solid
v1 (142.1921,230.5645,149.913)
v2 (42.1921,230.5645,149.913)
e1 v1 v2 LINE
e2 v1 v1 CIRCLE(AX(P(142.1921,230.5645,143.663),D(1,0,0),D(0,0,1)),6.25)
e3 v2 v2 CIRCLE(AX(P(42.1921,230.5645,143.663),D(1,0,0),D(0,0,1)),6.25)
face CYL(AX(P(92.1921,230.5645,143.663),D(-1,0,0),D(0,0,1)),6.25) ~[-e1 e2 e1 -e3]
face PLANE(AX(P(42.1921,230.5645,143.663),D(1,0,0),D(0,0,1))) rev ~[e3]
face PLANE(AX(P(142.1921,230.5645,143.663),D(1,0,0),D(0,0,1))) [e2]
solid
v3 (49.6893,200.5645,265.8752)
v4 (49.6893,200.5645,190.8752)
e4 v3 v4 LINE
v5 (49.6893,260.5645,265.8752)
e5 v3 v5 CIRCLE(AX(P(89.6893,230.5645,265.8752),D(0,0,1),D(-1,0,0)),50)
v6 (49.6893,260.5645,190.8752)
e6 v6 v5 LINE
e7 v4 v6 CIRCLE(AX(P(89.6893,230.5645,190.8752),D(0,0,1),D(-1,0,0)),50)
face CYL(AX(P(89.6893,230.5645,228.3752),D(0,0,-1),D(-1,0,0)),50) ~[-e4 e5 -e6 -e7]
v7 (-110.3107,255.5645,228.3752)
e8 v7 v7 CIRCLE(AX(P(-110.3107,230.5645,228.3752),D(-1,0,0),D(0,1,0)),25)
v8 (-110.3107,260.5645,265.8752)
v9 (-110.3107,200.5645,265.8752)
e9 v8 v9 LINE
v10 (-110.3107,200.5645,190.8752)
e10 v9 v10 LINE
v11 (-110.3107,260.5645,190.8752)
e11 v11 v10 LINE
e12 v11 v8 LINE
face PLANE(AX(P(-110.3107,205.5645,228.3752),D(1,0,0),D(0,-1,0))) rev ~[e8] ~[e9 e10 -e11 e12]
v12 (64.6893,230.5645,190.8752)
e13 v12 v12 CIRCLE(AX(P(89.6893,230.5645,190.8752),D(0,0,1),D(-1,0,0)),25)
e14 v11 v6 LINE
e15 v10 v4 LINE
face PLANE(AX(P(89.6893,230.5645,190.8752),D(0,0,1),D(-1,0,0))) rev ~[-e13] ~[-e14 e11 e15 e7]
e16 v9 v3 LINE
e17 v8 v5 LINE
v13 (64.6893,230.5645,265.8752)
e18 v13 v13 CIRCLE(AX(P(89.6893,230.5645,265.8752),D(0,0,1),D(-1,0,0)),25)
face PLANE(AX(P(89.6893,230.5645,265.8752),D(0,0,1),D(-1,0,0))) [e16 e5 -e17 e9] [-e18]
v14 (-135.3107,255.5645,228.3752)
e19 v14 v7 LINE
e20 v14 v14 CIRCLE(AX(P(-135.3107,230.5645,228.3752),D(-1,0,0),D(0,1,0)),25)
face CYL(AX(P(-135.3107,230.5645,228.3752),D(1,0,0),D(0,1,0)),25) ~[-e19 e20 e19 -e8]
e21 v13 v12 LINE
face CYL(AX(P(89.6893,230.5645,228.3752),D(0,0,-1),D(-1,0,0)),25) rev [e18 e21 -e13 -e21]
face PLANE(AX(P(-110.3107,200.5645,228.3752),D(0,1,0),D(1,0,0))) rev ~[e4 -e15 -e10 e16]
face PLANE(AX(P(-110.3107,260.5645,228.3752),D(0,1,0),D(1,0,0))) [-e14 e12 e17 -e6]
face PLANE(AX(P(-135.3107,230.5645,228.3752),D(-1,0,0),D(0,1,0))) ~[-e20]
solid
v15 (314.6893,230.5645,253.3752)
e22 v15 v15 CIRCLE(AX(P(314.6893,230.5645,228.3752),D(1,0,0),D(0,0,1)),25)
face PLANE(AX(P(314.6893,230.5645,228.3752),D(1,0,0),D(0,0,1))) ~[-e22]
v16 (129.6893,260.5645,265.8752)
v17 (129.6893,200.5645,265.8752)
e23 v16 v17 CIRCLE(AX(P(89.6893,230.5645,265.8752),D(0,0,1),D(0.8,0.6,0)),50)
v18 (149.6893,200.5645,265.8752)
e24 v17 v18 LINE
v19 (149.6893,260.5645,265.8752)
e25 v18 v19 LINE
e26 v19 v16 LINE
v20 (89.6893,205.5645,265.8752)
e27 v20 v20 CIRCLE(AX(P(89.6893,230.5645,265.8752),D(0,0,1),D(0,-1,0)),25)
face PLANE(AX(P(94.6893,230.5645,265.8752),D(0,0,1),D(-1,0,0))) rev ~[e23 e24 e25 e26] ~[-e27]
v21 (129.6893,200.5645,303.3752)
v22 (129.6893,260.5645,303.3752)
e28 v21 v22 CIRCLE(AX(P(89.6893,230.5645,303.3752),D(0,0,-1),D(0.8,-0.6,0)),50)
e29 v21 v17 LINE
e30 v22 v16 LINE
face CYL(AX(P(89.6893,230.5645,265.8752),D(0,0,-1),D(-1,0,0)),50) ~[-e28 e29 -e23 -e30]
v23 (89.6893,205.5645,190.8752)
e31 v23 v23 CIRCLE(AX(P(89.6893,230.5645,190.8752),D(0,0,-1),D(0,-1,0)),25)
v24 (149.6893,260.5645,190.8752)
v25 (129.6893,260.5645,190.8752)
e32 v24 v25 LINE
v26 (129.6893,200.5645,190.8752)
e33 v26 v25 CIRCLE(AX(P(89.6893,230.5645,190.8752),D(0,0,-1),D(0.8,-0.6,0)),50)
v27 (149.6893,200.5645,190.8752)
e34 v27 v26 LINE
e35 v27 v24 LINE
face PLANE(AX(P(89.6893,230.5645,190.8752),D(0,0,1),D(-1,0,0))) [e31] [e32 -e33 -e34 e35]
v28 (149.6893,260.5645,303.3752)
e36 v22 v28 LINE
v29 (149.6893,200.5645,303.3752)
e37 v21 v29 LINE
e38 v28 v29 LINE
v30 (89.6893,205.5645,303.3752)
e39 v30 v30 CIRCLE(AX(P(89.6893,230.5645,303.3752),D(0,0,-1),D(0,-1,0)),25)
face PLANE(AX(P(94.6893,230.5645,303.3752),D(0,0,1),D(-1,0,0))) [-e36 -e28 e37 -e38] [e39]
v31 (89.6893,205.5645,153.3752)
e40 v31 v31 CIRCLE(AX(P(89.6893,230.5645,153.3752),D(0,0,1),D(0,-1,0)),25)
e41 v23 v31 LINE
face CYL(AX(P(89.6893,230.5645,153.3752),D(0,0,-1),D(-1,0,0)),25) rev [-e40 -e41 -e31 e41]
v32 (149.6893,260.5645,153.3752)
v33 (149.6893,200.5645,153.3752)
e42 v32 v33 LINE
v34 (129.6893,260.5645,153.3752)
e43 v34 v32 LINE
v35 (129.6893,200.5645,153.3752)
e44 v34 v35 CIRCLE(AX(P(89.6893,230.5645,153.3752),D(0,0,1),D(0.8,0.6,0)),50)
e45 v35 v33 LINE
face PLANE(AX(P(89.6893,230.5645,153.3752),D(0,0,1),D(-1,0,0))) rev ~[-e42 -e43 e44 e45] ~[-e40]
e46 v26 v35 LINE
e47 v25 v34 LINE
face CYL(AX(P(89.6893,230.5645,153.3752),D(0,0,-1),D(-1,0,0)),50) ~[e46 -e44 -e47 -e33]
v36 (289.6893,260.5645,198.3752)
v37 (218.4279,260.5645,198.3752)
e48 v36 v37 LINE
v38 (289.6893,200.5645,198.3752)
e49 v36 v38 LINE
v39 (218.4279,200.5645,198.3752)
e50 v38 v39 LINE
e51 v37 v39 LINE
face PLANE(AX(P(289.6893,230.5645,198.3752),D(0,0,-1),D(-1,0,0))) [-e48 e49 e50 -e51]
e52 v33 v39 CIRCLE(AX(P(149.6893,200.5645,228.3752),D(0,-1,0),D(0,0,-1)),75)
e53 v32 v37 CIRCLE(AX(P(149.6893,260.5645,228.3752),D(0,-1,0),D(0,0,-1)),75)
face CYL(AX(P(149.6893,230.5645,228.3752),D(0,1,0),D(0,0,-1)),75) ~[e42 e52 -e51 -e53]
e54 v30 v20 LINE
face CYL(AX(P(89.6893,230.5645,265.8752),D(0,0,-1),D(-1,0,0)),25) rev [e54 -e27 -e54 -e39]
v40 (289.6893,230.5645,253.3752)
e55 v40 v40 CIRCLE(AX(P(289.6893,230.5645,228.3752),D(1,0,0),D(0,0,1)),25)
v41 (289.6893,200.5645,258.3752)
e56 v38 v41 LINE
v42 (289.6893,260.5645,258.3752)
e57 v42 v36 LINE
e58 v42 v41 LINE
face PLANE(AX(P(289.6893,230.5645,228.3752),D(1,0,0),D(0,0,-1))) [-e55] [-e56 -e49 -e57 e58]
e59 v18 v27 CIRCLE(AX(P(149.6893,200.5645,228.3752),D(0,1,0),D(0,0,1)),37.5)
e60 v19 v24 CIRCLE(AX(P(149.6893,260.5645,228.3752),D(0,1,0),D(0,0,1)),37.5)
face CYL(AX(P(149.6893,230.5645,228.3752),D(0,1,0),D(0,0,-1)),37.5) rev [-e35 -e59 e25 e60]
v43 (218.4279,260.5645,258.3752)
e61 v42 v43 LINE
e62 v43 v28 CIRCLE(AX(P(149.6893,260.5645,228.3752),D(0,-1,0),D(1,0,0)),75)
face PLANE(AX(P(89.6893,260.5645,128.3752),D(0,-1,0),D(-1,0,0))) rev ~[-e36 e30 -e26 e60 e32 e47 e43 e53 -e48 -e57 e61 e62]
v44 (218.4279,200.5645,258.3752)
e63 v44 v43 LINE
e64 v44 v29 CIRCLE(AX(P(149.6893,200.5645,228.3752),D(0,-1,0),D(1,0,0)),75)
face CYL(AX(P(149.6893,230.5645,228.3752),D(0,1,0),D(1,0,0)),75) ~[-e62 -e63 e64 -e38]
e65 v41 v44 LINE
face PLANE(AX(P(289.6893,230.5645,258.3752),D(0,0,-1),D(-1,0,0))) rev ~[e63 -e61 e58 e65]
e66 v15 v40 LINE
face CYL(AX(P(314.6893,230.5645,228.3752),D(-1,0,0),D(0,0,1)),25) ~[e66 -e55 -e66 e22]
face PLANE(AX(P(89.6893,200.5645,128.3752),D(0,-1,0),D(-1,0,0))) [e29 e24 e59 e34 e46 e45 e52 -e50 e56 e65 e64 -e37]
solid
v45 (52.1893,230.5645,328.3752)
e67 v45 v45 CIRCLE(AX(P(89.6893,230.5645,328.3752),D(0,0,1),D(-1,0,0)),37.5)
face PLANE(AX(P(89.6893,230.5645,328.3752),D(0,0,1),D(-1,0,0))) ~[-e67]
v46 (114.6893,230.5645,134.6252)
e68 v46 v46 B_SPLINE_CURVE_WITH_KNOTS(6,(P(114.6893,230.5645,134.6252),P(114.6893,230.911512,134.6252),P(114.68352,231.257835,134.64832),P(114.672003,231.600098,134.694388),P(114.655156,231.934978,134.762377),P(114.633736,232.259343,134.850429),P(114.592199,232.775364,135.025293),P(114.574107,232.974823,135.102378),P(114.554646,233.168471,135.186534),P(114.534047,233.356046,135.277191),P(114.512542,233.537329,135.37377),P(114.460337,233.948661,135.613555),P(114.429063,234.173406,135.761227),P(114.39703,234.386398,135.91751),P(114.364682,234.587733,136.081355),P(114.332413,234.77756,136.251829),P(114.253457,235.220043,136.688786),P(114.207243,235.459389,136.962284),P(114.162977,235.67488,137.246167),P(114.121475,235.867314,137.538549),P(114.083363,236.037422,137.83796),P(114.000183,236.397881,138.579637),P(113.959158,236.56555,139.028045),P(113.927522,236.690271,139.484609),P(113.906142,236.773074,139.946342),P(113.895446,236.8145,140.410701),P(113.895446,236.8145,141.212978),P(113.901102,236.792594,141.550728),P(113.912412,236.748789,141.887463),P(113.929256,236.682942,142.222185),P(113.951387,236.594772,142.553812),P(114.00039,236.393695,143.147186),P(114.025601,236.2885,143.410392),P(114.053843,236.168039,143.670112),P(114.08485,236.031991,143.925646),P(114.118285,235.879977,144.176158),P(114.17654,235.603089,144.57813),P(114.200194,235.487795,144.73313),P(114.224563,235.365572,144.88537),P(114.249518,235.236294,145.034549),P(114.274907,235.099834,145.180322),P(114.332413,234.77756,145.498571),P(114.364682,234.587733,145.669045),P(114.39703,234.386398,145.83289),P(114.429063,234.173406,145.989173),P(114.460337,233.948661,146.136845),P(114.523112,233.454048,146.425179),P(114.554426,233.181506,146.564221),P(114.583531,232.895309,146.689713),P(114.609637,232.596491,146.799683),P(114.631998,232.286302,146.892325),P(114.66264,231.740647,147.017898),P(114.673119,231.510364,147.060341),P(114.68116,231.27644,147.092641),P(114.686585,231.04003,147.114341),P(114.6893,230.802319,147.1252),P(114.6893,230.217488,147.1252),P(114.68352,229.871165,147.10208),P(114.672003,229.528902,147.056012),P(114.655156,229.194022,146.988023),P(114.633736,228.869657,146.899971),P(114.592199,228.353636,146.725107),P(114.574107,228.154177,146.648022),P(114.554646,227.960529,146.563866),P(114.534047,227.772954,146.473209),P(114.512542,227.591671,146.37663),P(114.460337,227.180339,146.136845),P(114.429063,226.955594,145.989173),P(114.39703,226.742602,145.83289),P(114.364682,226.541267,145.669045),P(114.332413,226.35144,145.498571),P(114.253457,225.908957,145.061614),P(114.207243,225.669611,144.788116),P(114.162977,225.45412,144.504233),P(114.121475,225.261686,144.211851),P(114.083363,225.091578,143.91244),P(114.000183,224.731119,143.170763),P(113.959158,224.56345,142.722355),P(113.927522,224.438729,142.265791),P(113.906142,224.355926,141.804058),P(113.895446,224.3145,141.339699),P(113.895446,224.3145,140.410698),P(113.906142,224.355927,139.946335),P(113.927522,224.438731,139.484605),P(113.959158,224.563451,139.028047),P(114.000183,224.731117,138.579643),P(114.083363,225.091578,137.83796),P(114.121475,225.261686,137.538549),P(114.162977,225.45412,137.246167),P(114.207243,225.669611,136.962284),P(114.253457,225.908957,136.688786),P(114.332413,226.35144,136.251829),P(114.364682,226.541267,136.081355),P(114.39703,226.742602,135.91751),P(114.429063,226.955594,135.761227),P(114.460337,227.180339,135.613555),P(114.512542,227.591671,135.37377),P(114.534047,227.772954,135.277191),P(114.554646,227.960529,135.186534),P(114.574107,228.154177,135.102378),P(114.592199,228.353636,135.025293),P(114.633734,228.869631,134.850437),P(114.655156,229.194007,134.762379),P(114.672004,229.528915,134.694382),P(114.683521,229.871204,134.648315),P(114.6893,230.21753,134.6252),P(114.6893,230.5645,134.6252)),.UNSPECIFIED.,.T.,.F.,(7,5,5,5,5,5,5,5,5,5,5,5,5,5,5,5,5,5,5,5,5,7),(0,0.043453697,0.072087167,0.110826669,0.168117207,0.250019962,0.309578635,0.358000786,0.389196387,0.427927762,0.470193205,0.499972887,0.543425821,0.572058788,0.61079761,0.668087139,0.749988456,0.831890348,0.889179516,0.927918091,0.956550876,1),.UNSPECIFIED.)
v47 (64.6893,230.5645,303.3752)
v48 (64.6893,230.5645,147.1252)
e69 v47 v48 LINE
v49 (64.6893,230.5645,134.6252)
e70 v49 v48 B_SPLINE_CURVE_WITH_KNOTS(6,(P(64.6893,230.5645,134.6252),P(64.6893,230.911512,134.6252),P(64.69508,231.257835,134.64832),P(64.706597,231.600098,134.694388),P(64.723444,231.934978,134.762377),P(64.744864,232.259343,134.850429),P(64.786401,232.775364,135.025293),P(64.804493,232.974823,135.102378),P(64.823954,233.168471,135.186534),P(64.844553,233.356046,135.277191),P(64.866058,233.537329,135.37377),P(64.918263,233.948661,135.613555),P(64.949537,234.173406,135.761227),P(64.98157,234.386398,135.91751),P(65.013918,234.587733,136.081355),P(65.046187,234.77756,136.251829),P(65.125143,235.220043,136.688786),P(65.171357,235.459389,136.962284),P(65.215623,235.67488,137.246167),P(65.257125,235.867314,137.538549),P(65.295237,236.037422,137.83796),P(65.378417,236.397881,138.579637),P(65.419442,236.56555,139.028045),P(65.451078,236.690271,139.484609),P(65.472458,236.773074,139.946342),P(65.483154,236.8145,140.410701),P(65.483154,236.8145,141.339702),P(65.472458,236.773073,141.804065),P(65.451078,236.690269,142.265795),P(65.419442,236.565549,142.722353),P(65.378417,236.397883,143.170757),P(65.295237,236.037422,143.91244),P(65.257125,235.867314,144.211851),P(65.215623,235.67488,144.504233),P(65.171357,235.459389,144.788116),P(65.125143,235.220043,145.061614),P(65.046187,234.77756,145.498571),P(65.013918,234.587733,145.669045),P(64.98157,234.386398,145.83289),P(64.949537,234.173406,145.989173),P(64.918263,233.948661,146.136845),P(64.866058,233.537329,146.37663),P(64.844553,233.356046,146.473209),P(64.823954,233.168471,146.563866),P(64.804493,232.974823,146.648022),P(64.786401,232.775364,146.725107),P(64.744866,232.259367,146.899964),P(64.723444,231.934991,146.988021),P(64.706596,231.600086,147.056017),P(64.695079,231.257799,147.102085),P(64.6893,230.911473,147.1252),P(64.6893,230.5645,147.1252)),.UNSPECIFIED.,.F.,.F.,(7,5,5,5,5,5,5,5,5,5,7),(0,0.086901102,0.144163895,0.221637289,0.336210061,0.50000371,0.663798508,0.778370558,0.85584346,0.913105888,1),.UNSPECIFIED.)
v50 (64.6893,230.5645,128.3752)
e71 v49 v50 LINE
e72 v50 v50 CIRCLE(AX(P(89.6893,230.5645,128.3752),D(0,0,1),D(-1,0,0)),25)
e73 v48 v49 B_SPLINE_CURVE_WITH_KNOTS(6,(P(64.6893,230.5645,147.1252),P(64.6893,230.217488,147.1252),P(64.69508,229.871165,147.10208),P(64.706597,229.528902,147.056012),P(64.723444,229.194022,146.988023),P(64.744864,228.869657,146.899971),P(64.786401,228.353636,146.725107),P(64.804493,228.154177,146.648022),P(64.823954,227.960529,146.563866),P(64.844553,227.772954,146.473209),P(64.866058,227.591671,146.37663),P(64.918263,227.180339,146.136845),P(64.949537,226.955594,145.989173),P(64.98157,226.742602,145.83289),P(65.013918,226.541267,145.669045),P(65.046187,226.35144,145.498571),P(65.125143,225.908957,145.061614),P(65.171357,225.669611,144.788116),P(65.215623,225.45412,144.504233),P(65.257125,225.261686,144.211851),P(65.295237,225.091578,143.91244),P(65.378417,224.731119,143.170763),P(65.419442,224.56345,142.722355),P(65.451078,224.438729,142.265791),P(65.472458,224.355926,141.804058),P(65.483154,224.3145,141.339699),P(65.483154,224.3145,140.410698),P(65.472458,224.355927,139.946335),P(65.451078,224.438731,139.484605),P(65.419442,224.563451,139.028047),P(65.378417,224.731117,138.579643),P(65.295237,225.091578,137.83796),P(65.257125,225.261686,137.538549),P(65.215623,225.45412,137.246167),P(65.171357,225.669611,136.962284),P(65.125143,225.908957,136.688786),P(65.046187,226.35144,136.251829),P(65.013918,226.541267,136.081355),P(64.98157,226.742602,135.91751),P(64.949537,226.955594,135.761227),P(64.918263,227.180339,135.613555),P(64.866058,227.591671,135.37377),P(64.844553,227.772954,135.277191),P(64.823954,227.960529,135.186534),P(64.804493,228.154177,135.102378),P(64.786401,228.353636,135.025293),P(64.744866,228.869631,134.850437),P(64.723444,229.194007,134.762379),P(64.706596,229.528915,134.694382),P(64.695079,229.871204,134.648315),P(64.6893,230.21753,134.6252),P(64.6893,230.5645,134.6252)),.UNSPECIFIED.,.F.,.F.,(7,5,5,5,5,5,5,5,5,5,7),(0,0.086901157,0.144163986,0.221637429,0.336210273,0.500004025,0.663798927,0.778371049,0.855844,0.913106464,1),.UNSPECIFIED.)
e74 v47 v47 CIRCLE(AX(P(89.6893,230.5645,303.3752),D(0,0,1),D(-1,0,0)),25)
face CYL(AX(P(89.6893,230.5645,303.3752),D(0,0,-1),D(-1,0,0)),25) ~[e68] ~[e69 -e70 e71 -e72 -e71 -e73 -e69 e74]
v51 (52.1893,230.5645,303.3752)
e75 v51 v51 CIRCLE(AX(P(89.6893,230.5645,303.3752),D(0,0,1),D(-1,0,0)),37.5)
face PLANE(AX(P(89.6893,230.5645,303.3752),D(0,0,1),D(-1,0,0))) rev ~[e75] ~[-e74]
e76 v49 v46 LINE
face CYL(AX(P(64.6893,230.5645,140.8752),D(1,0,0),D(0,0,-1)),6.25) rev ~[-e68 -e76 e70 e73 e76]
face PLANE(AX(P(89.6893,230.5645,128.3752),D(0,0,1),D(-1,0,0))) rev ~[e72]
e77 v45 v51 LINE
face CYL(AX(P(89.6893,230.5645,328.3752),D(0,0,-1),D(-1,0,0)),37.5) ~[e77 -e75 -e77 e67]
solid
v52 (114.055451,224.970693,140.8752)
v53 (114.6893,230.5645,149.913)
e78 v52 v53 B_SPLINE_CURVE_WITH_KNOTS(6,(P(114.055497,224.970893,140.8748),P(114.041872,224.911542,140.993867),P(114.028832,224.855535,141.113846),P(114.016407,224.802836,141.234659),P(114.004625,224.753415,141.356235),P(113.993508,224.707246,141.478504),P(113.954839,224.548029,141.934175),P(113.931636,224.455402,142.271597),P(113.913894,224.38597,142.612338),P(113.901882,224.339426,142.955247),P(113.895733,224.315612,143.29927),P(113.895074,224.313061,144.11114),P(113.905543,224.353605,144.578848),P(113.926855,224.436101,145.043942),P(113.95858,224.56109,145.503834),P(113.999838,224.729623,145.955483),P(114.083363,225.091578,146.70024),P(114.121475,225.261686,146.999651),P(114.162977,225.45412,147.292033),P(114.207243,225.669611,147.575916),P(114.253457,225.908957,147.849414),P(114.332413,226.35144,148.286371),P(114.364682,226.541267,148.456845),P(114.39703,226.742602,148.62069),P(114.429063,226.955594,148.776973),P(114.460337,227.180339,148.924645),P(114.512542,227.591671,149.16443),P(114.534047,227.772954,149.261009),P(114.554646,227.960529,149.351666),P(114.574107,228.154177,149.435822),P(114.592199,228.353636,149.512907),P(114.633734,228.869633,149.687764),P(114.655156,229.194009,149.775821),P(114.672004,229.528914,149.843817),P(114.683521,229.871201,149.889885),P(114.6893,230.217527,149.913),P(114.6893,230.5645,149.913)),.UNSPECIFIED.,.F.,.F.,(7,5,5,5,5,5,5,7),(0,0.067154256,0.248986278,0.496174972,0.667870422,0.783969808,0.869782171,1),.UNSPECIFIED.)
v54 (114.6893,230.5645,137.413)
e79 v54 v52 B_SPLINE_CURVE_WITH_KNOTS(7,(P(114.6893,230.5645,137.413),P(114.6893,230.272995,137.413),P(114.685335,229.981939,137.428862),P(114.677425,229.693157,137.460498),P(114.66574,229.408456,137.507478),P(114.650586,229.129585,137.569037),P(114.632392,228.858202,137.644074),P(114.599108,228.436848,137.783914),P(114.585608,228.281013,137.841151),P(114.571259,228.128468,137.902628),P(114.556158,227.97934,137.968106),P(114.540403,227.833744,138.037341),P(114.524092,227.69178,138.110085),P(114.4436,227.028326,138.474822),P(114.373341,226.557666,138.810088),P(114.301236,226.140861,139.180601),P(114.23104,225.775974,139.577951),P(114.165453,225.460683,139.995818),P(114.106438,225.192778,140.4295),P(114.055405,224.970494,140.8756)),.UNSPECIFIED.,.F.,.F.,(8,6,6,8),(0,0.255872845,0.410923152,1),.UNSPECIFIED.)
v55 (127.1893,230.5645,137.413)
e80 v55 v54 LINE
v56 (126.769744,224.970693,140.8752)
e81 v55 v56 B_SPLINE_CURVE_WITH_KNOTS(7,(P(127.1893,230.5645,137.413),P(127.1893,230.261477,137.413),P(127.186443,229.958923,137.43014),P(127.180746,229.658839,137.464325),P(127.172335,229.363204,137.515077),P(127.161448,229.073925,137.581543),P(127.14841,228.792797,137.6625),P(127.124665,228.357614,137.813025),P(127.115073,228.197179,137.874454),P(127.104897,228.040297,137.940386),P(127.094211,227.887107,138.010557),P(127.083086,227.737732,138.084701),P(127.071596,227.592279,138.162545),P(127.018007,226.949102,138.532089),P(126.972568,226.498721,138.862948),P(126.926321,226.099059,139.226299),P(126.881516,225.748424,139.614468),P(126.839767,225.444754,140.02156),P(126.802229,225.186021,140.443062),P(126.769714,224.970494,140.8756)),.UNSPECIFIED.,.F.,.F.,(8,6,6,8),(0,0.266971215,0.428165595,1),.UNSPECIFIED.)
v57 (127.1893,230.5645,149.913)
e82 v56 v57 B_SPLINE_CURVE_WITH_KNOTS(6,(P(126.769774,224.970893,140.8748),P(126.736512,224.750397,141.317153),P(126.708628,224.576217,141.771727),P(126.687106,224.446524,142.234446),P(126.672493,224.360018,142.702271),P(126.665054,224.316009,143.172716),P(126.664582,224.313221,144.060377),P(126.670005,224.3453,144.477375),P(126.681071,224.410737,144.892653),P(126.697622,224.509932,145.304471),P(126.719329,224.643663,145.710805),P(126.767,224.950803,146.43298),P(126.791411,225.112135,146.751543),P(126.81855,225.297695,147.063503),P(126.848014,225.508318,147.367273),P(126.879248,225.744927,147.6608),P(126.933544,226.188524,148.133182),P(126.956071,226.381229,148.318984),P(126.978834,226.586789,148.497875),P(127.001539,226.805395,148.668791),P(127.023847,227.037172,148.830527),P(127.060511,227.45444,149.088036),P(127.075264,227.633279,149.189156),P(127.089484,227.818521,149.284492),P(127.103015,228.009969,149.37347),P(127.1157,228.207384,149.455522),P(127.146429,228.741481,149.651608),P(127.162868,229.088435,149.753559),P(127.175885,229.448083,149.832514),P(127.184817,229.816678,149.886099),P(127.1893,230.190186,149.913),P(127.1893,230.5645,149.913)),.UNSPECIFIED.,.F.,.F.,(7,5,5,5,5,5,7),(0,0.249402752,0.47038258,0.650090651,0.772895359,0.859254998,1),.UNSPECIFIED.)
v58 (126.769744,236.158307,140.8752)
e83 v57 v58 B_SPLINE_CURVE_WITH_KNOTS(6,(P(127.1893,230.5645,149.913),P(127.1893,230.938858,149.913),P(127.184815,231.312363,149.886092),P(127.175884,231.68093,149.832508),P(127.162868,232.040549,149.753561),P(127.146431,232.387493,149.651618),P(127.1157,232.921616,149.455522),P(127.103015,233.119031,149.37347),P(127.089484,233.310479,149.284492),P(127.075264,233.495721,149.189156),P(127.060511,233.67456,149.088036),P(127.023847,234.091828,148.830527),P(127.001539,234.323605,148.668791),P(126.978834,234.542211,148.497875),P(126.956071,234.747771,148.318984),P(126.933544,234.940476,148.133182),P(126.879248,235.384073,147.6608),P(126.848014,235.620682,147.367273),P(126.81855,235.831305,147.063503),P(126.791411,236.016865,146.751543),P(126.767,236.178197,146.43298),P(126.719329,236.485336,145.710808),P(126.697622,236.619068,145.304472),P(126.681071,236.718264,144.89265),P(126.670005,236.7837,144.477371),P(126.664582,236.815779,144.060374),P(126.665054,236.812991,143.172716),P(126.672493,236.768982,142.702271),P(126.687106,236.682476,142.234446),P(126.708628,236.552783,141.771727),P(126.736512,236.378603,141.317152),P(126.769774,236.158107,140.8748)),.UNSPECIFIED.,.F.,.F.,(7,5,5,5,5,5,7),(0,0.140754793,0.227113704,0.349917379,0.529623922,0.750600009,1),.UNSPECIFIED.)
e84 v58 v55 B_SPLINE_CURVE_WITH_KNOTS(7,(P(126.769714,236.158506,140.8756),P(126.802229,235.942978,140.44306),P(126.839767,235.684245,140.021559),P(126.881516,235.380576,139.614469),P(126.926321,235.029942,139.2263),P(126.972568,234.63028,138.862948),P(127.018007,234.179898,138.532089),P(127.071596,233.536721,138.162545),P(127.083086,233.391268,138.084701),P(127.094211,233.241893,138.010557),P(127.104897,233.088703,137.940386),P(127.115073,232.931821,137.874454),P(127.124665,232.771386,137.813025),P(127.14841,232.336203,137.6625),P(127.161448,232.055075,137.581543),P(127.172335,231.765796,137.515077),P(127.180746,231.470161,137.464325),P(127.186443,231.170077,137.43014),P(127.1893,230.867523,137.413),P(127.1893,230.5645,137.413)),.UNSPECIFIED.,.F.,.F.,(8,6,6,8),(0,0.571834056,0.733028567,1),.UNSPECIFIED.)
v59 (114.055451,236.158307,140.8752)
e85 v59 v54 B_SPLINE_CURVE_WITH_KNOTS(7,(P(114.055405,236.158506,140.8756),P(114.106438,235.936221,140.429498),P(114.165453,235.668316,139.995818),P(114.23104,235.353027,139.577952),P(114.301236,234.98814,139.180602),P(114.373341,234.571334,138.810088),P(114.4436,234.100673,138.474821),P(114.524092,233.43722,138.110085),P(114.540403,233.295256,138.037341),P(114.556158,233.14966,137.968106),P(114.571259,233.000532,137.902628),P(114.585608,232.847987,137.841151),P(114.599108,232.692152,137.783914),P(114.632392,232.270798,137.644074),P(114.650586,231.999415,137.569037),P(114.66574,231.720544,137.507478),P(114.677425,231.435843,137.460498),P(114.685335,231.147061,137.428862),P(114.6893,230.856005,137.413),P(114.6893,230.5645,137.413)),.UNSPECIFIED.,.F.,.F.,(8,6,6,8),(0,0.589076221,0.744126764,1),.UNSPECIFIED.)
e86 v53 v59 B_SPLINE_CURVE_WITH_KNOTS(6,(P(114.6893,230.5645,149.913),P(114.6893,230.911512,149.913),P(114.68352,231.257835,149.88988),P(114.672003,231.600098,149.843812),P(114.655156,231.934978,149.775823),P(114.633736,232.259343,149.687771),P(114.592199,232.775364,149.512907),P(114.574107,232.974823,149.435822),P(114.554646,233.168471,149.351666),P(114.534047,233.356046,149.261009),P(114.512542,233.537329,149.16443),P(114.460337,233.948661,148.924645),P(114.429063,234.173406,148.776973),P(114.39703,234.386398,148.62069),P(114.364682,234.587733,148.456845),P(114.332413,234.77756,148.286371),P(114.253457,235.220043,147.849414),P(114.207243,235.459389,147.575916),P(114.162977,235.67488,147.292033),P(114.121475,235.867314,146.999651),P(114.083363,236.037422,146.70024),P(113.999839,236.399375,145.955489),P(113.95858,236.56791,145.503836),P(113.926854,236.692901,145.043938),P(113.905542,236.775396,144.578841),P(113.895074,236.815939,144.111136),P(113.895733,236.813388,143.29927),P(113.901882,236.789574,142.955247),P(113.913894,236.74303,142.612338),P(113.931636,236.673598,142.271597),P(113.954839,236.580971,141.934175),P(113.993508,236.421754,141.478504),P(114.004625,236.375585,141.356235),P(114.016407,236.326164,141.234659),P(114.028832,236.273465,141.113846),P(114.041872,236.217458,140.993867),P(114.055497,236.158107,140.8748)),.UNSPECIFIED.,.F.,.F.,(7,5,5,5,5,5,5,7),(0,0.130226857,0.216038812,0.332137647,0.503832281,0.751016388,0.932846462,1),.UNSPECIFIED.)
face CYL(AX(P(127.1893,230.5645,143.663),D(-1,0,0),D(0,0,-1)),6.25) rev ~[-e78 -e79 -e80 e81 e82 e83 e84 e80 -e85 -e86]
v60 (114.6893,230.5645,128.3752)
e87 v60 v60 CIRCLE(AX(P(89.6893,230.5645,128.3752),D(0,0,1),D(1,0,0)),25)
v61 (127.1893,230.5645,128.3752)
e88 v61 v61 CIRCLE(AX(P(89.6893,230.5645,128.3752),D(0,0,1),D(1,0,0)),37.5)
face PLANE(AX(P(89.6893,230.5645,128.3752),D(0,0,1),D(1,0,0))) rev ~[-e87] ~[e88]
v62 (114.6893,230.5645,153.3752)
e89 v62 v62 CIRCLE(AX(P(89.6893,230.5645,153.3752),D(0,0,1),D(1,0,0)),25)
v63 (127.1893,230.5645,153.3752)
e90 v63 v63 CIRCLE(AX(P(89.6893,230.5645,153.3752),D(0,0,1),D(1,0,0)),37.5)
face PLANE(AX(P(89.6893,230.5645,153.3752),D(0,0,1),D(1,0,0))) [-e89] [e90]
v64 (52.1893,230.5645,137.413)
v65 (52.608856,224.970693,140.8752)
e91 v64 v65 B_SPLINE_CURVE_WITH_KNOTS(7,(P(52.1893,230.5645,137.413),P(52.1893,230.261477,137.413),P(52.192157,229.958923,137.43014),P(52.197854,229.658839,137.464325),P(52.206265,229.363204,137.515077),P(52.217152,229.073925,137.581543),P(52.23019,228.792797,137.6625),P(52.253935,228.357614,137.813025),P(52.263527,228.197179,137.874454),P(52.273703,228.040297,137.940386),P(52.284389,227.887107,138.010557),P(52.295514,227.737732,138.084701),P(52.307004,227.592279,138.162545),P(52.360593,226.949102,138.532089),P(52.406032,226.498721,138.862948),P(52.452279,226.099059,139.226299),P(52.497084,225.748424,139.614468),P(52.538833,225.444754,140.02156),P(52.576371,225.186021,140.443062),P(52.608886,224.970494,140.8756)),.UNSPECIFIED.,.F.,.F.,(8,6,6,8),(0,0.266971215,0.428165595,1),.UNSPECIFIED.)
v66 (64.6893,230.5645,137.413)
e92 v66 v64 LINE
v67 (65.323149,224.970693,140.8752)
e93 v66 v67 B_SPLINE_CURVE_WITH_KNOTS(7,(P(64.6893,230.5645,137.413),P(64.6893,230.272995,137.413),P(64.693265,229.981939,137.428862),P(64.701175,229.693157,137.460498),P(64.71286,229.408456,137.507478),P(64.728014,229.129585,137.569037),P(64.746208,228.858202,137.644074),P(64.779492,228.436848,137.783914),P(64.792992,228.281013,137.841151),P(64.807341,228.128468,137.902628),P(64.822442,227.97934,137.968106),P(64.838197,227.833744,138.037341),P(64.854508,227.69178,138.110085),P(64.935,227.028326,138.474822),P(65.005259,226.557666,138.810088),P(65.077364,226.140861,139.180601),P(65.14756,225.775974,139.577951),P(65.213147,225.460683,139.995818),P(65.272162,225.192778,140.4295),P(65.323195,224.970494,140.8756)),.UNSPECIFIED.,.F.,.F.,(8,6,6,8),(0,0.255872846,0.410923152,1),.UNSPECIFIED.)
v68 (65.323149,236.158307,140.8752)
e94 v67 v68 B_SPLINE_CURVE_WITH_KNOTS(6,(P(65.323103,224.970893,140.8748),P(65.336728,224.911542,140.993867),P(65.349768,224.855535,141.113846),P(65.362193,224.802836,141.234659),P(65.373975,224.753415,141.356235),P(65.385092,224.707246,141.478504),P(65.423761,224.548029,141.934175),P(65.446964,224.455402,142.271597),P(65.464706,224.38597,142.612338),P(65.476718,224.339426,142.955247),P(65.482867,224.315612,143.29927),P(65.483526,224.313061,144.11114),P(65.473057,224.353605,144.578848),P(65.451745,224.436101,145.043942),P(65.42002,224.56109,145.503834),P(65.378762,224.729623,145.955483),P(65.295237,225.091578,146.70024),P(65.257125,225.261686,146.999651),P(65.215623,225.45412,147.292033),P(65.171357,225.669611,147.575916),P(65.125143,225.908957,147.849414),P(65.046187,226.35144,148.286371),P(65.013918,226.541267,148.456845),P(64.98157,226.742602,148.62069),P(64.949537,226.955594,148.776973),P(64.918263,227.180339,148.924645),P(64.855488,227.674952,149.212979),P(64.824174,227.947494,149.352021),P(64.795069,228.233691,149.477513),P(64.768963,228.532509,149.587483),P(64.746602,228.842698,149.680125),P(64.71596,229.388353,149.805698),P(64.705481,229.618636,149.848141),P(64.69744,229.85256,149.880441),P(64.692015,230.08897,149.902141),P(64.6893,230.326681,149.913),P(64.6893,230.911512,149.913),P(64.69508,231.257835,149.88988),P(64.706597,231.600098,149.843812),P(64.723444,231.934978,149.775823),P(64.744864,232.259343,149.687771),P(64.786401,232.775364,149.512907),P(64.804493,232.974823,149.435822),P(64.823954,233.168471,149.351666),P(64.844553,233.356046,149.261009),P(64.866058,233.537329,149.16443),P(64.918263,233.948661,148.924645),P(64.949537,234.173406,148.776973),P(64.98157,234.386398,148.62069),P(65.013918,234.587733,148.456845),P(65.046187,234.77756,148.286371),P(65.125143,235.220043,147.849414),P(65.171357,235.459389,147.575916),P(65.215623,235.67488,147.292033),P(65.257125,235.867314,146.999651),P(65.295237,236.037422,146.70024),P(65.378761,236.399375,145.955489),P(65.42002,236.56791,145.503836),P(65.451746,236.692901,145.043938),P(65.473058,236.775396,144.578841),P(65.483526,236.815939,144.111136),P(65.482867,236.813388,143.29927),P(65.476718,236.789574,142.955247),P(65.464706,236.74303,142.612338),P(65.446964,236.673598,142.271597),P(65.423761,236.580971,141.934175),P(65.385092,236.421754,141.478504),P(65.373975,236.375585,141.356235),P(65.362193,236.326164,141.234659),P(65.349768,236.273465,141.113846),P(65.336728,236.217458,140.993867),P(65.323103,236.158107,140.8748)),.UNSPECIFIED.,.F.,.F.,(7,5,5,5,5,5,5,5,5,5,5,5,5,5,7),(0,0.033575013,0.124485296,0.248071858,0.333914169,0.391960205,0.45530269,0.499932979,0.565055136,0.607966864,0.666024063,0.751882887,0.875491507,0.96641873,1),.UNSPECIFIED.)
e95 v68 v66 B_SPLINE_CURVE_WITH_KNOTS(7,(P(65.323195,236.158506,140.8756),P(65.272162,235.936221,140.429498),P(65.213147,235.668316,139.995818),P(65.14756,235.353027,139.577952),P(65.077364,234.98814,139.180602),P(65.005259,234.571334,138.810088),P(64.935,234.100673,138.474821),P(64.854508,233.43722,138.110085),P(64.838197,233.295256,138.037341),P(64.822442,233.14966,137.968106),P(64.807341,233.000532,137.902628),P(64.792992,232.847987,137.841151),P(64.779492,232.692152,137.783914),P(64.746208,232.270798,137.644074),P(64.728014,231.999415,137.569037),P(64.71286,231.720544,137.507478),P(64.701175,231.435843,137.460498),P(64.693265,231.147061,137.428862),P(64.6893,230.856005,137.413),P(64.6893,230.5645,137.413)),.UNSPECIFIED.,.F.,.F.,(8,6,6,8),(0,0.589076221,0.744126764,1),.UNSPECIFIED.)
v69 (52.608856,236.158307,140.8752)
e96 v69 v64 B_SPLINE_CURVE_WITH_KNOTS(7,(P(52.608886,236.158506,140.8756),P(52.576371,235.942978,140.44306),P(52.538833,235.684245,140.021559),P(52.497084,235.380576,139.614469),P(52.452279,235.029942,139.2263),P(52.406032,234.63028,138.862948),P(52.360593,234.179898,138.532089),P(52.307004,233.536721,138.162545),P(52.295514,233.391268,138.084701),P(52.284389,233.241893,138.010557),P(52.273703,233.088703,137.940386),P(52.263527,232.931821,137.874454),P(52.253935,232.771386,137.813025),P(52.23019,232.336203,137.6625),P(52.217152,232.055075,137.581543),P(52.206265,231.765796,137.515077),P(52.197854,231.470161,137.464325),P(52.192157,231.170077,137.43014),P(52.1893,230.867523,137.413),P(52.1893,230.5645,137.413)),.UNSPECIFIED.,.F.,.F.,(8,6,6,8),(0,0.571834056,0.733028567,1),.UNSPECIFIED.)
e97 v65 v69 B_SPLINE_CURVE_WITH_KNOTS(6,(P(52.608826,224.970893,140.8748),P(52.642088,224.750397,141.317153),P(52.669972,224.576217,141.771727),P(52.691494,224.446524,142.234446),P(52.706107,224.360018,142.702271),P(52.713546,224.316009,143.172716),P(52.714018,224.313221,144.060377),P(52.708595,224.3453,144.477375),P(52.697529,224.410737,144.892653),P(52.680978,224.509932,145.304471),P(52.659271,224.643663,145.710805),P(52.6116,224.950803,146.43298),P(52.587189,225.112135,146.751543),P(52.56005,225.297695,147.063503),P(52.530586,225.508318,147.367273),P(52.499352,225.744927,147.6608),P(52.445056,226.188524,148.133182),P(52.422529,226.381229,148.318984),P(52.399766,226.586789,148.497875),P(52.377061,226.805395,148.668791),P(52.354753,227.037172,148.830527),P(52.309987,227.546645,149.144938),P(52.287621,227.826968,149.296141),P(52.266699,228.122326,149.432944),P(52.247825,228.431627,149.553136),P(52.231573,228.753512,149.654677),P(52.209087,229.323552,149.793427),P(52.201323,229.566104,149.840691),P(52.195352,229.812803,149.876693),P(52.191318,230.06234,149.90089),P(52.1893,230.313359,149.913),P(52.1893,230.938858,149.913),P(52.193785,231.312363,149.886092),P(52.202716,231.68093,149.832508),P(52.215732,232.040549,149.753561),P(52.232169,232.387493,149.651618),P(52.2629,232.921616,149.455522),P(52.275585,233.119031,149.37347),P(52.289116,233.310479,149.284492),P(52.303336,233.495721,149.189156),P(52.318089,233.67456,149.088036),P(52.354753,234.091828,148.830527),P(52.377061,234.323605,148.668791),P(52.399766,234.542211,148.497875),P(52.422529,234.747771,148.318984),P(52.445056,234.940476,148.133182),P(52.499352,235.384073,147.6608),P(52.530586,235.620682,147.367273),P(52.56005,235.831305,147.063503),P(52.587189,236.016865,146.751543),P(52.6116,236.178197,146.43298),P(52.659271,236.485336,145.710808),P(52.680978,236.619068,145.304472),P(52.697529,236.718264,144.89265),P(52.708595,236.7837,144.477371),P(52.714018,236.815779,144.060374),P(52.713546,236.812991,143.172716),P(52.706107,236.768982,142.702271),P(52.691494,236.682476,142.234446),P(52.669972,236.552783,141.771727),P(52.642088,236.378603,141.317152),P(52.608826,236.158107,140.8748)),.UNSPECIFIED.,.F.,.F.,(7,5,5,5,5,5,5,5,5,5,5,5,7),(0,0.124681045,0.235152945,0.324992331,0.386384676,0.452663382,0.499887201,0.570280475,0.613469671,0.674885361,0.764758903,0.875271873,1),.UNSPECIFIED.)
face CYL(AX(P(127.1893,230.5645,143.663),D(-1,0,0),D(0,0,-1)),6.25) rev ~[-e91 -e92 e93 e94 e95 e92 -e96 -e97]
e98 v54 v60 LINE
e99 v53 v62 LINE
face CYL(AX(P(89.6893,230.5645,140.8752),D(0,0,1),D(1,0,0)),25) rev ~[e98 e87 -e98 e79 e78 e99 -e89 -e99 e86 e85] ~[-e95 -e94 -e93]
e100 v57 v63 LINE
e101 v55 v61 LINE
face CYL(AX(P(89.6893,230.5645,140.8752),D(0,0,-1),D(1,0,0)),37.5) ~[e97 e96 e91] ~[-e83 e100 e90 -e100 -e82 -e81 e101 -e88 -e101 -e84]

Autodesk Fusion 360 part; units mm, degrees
sketch "Sketch1" plane through (0, 0, 0) normal (0, 1, 0) x (1, 0, 0)
  circle A0 centre (0, 0) radius 50
  line L0 (200, 0) -> (200, -30)
  line L1 (200, -30) -> (40, -30)
  line L2 (200, 0) -> (200, 30)
  line L3 (200, 30) -> (40, 30)
  line L4 (225, 0) -> (225, 25)
  line L5 (225, 25) -> (200, 25)
  line L6 (225, 0) -> (225, -25)
  line L7 (225, -25) -> (200, -25)
  circle A1 centre (0, 0) radius 25
  line L8 (200, 0) -> (225, 0)
  dimension "d6" = 100
  dimension "d7" = 200
  dimension "d8" = 30
  dimension "d9" = 25
  dimension "d10" = 25
  dimension "d11" = 25
  dimension "d12" = 50
sketch "Sketch3" plane through (0, 0, 0) normal (0, 1, 0) x (1, 0, 0)
  line L0 (0, 0) -> (-25, 0)
  line L1 (0, 0) -> (-50, 0)
  line L2 (0, 0) -> (0, -175)
  line L3 (0, -175) -> (-60, -175)
  line L4 (-60, -175) -> (-60, -137.5)
  line L5 (-60, -137.5) -> (0, -137.5)
  line L6 (0, -137.5) -> (-37.5, -137.5)
  line L7 (0, 0) -> (0, -100)
  line L8 (0, -100) -> (-135, -100)
  line L9 (-60, -175) -> (-60, -100)
  arc A0 (-135, -100) -> (-60, -175) centre (-60, -100) ccw
  arc A1 (-97.5, -100) -> (-60, -137.5) centre (-60, -100) ccw
  arc A2 (-60, -62.5) -> (-97.5, -100) centre (-60, -100) ccw
  arc A3 (-60, -25) -> (-135, -100) centre (-60, -100) ccw
  line L10 (-60, -62.5) -> (0, -62.5)
  line L11 (0, -25) -> (-60, -25)
  line L12 (0, -100) -> (-200, -100)
  line L13 (-200, -100) -> (-200, -130)
  line L14 (-200, -130) -> (-128.7386, -130)
  line L15 (-200, -70) -> (-128.7386, -70)
  line L16 (-200, -100) -> (-200, -70)
  line L17 (-200, -100) -> (-225, -100)
  line L18 (-225, -100) -> (-225, -125)
  line L19 (-225, -125) -> (-200, -125)
  dimension "d18" = 25
  dimension "d19" = 50
  dimension "d21" = 175
  dimension "d22" = 60
  dimension "d23" = 37.5
  dimension "d24" = 37.5
  dimension "d25" = 100
  dimension "d28" = 200
  dimension "d29" = 25
  dimension "d30" = 25
extrude "Extrude2" add sketch "Sketch3" along normal mid plane 60 contours L2 L7 L8 A2 A3 L10 L11 L12 | A3 L12 L15 L16 | L2 L3 L4 L5 L6 L9 | L4 L8 L9 A0 A1 L12 | A0 L12 L13 L14 makes body 1
revolve "Revolve2" add sketch "Sketch3" angle 360 about axis through (0, 0, 100) along (-1, 0, 0) contours L13 L17 L18 L19 bodies 1
ref_plane "WorkPlane1" through (0, 0, 25) normal (0, 0, 1) x (1, 0, 0)
sketch "Sketch4" plane through (0, 0, 25) normal (0, 0, 1) x (1, 0, 0)
  circle A0 centre (0, 0) radius 25
  circle A1 centre (0, 0) radius 50
  dimension "d35" = 50
  dimension "d36" = 100
extrude "Extrude3" add sketch "Sketch4" along normal blind 37.5 bodies 1
extrude "Extrude4" cut sketch "Sketch4" along normal blind 37.5 contours A0 bodies 1
ref_plane "WorkPlane3" through (-5, 0, 137.5) normal (0, 0, 1) x (1, 0, 0)
sketch "Sketch5" plane through (-5, 0, 137.5) normal (0, 0, 1) x (1, 0, 0)
  circle A0 centre (5, 0) radius 25
  circle A1 centre (5, 0) radius 50
  dimension "d43" = 50
  dimension "d44" = 100
extrude "Extrude5" add sketch "Sketch5" along normal blind 37.5 bodies 1
extrude "Extrude6" cut sketch "Sketch5" along normal blind 37.5 contours A0 bodies 1
copy_body "Body->Comp2" bodies 1 removing the originals makes body 2 in component "Fork"
sketch "Sketch7" plane through (0, 0, 0) normal (0, 0, 1) x (1, 0, 0)
  circle A0 centre (0, 0) radius 25
  circle A1 centre (0, 0) radius 37.5
  dimension "d49" = 50
  dimension "d50" = 75
extrude "Extrude7" add sketch "Sketch7" along normal mid plane 25 separate body makes body 3
copy_body "Body->Comp3" bodies 3 removing the originals makes body 4 in component "Collar"
hole "Hole1" at (37.5, 0, 2.7878) direction (-1, 0, 0) diameter 12.5 depth 80 tip angle 118 bodies 4 in component "Collar"
sketch "Sketch8" plane through (0, 0, 0) normal (0, 1, 0) x (1, 0, 0)
  line L0 (0, 0) -> (0, -6.25)
  line L1 (0, -6.25) -> (50, -6.25)
  line L2 (50, -6.25) -> (50, 0)
  line L3 (50, 0) -> (0, 0)
  line L4 (0, -6.25) -> (-50, -6.25)
  line L5 (-50, 0) -> (0, 0)
  line L6 (-50, -6.25) -> (-50, 0)
  dimension "d56" = 6.25
  dimension "d57" = 50
revolve "Revolve3" add sketch "Sketch8" angle 360 about axis through (50, 0, 0) along (-1, 0, 0) separate body makes body 5
copy_body "Body->Comp4" bodies 5 removing the originals makes body 6 in component "Pin"
sketch "Sketch9" plane through (0, 0, 0) normal (0, 1, 0) x (1, 0, 0)
  line L0 (0, 0) -> (0, -200)
  line L1 (0, -200) -> (37.5, -200)
  line L2 (37.5, -200) -> (37.5, -175)
  line L3 (37.5, -175) -> (25, -175)
  line L4 (25, -175) -> (25, 0)
  line L5 (25, 0) -> (0, 0)
  dimension "d59" = 200
  dimension "d60" = 37.5
  dimension "d61" = 25
revolve "Revolve4" add sketch "Sketch9" angle 360 about axis through (0, 0, 0) along (0, 0, 1) separate body makes body 7
copy_body "Body->Comp5" bodies 7 removing the originals makes body 8 in component "TaperPin"
hole "Hole1'" at (25, 0, 12.5) direction (-1, 0, 0) diameter 12.5 depth 80 tip angle 118 bodies 8 in component "TaperPin"
extrude "Extrude8" add sketch "Sketch1" along normal mid plane 75 separate body contours A0 | A0 L0 L1 L2 L3 makes body 9
revolve "Revolve5" add sketch "Sketch1" angle 360 about axis through (1.75, 0, 0) along (1, 0, 0) contours L0 L6 L7 L8 bodies 9
copy_body "Body->Comp6" bodies 9 removing the originals makes body 10 in component "Eye"
component "Fork" placed x (-1, 0, 0) y (0, -1, 0) z (0, 0, 1) at (89.6893, 230.5645, 128.3752)
component "Collar" placed x (1, 0, 0) y (0, 1, 0) z (0, 0, 1) at (89.6893, 230.5645, 140.8752)
component "Pin" placed x (-1, 0, 0) y (0, -1, 0) z (0, 0, 1) at (92.1921, 230.5645, 143.663)
component "TaperPin" placed x (-1, 0, 0) y (0, -1, 0) z (0, 0, 1) at (89.6893, 230.5645, 128.3752)
component "Eye" placed x (-1, 0, 0) y (0, 0, 1) z (0, 1, 0) at (89.6893, 230.5645, 228.3752)
